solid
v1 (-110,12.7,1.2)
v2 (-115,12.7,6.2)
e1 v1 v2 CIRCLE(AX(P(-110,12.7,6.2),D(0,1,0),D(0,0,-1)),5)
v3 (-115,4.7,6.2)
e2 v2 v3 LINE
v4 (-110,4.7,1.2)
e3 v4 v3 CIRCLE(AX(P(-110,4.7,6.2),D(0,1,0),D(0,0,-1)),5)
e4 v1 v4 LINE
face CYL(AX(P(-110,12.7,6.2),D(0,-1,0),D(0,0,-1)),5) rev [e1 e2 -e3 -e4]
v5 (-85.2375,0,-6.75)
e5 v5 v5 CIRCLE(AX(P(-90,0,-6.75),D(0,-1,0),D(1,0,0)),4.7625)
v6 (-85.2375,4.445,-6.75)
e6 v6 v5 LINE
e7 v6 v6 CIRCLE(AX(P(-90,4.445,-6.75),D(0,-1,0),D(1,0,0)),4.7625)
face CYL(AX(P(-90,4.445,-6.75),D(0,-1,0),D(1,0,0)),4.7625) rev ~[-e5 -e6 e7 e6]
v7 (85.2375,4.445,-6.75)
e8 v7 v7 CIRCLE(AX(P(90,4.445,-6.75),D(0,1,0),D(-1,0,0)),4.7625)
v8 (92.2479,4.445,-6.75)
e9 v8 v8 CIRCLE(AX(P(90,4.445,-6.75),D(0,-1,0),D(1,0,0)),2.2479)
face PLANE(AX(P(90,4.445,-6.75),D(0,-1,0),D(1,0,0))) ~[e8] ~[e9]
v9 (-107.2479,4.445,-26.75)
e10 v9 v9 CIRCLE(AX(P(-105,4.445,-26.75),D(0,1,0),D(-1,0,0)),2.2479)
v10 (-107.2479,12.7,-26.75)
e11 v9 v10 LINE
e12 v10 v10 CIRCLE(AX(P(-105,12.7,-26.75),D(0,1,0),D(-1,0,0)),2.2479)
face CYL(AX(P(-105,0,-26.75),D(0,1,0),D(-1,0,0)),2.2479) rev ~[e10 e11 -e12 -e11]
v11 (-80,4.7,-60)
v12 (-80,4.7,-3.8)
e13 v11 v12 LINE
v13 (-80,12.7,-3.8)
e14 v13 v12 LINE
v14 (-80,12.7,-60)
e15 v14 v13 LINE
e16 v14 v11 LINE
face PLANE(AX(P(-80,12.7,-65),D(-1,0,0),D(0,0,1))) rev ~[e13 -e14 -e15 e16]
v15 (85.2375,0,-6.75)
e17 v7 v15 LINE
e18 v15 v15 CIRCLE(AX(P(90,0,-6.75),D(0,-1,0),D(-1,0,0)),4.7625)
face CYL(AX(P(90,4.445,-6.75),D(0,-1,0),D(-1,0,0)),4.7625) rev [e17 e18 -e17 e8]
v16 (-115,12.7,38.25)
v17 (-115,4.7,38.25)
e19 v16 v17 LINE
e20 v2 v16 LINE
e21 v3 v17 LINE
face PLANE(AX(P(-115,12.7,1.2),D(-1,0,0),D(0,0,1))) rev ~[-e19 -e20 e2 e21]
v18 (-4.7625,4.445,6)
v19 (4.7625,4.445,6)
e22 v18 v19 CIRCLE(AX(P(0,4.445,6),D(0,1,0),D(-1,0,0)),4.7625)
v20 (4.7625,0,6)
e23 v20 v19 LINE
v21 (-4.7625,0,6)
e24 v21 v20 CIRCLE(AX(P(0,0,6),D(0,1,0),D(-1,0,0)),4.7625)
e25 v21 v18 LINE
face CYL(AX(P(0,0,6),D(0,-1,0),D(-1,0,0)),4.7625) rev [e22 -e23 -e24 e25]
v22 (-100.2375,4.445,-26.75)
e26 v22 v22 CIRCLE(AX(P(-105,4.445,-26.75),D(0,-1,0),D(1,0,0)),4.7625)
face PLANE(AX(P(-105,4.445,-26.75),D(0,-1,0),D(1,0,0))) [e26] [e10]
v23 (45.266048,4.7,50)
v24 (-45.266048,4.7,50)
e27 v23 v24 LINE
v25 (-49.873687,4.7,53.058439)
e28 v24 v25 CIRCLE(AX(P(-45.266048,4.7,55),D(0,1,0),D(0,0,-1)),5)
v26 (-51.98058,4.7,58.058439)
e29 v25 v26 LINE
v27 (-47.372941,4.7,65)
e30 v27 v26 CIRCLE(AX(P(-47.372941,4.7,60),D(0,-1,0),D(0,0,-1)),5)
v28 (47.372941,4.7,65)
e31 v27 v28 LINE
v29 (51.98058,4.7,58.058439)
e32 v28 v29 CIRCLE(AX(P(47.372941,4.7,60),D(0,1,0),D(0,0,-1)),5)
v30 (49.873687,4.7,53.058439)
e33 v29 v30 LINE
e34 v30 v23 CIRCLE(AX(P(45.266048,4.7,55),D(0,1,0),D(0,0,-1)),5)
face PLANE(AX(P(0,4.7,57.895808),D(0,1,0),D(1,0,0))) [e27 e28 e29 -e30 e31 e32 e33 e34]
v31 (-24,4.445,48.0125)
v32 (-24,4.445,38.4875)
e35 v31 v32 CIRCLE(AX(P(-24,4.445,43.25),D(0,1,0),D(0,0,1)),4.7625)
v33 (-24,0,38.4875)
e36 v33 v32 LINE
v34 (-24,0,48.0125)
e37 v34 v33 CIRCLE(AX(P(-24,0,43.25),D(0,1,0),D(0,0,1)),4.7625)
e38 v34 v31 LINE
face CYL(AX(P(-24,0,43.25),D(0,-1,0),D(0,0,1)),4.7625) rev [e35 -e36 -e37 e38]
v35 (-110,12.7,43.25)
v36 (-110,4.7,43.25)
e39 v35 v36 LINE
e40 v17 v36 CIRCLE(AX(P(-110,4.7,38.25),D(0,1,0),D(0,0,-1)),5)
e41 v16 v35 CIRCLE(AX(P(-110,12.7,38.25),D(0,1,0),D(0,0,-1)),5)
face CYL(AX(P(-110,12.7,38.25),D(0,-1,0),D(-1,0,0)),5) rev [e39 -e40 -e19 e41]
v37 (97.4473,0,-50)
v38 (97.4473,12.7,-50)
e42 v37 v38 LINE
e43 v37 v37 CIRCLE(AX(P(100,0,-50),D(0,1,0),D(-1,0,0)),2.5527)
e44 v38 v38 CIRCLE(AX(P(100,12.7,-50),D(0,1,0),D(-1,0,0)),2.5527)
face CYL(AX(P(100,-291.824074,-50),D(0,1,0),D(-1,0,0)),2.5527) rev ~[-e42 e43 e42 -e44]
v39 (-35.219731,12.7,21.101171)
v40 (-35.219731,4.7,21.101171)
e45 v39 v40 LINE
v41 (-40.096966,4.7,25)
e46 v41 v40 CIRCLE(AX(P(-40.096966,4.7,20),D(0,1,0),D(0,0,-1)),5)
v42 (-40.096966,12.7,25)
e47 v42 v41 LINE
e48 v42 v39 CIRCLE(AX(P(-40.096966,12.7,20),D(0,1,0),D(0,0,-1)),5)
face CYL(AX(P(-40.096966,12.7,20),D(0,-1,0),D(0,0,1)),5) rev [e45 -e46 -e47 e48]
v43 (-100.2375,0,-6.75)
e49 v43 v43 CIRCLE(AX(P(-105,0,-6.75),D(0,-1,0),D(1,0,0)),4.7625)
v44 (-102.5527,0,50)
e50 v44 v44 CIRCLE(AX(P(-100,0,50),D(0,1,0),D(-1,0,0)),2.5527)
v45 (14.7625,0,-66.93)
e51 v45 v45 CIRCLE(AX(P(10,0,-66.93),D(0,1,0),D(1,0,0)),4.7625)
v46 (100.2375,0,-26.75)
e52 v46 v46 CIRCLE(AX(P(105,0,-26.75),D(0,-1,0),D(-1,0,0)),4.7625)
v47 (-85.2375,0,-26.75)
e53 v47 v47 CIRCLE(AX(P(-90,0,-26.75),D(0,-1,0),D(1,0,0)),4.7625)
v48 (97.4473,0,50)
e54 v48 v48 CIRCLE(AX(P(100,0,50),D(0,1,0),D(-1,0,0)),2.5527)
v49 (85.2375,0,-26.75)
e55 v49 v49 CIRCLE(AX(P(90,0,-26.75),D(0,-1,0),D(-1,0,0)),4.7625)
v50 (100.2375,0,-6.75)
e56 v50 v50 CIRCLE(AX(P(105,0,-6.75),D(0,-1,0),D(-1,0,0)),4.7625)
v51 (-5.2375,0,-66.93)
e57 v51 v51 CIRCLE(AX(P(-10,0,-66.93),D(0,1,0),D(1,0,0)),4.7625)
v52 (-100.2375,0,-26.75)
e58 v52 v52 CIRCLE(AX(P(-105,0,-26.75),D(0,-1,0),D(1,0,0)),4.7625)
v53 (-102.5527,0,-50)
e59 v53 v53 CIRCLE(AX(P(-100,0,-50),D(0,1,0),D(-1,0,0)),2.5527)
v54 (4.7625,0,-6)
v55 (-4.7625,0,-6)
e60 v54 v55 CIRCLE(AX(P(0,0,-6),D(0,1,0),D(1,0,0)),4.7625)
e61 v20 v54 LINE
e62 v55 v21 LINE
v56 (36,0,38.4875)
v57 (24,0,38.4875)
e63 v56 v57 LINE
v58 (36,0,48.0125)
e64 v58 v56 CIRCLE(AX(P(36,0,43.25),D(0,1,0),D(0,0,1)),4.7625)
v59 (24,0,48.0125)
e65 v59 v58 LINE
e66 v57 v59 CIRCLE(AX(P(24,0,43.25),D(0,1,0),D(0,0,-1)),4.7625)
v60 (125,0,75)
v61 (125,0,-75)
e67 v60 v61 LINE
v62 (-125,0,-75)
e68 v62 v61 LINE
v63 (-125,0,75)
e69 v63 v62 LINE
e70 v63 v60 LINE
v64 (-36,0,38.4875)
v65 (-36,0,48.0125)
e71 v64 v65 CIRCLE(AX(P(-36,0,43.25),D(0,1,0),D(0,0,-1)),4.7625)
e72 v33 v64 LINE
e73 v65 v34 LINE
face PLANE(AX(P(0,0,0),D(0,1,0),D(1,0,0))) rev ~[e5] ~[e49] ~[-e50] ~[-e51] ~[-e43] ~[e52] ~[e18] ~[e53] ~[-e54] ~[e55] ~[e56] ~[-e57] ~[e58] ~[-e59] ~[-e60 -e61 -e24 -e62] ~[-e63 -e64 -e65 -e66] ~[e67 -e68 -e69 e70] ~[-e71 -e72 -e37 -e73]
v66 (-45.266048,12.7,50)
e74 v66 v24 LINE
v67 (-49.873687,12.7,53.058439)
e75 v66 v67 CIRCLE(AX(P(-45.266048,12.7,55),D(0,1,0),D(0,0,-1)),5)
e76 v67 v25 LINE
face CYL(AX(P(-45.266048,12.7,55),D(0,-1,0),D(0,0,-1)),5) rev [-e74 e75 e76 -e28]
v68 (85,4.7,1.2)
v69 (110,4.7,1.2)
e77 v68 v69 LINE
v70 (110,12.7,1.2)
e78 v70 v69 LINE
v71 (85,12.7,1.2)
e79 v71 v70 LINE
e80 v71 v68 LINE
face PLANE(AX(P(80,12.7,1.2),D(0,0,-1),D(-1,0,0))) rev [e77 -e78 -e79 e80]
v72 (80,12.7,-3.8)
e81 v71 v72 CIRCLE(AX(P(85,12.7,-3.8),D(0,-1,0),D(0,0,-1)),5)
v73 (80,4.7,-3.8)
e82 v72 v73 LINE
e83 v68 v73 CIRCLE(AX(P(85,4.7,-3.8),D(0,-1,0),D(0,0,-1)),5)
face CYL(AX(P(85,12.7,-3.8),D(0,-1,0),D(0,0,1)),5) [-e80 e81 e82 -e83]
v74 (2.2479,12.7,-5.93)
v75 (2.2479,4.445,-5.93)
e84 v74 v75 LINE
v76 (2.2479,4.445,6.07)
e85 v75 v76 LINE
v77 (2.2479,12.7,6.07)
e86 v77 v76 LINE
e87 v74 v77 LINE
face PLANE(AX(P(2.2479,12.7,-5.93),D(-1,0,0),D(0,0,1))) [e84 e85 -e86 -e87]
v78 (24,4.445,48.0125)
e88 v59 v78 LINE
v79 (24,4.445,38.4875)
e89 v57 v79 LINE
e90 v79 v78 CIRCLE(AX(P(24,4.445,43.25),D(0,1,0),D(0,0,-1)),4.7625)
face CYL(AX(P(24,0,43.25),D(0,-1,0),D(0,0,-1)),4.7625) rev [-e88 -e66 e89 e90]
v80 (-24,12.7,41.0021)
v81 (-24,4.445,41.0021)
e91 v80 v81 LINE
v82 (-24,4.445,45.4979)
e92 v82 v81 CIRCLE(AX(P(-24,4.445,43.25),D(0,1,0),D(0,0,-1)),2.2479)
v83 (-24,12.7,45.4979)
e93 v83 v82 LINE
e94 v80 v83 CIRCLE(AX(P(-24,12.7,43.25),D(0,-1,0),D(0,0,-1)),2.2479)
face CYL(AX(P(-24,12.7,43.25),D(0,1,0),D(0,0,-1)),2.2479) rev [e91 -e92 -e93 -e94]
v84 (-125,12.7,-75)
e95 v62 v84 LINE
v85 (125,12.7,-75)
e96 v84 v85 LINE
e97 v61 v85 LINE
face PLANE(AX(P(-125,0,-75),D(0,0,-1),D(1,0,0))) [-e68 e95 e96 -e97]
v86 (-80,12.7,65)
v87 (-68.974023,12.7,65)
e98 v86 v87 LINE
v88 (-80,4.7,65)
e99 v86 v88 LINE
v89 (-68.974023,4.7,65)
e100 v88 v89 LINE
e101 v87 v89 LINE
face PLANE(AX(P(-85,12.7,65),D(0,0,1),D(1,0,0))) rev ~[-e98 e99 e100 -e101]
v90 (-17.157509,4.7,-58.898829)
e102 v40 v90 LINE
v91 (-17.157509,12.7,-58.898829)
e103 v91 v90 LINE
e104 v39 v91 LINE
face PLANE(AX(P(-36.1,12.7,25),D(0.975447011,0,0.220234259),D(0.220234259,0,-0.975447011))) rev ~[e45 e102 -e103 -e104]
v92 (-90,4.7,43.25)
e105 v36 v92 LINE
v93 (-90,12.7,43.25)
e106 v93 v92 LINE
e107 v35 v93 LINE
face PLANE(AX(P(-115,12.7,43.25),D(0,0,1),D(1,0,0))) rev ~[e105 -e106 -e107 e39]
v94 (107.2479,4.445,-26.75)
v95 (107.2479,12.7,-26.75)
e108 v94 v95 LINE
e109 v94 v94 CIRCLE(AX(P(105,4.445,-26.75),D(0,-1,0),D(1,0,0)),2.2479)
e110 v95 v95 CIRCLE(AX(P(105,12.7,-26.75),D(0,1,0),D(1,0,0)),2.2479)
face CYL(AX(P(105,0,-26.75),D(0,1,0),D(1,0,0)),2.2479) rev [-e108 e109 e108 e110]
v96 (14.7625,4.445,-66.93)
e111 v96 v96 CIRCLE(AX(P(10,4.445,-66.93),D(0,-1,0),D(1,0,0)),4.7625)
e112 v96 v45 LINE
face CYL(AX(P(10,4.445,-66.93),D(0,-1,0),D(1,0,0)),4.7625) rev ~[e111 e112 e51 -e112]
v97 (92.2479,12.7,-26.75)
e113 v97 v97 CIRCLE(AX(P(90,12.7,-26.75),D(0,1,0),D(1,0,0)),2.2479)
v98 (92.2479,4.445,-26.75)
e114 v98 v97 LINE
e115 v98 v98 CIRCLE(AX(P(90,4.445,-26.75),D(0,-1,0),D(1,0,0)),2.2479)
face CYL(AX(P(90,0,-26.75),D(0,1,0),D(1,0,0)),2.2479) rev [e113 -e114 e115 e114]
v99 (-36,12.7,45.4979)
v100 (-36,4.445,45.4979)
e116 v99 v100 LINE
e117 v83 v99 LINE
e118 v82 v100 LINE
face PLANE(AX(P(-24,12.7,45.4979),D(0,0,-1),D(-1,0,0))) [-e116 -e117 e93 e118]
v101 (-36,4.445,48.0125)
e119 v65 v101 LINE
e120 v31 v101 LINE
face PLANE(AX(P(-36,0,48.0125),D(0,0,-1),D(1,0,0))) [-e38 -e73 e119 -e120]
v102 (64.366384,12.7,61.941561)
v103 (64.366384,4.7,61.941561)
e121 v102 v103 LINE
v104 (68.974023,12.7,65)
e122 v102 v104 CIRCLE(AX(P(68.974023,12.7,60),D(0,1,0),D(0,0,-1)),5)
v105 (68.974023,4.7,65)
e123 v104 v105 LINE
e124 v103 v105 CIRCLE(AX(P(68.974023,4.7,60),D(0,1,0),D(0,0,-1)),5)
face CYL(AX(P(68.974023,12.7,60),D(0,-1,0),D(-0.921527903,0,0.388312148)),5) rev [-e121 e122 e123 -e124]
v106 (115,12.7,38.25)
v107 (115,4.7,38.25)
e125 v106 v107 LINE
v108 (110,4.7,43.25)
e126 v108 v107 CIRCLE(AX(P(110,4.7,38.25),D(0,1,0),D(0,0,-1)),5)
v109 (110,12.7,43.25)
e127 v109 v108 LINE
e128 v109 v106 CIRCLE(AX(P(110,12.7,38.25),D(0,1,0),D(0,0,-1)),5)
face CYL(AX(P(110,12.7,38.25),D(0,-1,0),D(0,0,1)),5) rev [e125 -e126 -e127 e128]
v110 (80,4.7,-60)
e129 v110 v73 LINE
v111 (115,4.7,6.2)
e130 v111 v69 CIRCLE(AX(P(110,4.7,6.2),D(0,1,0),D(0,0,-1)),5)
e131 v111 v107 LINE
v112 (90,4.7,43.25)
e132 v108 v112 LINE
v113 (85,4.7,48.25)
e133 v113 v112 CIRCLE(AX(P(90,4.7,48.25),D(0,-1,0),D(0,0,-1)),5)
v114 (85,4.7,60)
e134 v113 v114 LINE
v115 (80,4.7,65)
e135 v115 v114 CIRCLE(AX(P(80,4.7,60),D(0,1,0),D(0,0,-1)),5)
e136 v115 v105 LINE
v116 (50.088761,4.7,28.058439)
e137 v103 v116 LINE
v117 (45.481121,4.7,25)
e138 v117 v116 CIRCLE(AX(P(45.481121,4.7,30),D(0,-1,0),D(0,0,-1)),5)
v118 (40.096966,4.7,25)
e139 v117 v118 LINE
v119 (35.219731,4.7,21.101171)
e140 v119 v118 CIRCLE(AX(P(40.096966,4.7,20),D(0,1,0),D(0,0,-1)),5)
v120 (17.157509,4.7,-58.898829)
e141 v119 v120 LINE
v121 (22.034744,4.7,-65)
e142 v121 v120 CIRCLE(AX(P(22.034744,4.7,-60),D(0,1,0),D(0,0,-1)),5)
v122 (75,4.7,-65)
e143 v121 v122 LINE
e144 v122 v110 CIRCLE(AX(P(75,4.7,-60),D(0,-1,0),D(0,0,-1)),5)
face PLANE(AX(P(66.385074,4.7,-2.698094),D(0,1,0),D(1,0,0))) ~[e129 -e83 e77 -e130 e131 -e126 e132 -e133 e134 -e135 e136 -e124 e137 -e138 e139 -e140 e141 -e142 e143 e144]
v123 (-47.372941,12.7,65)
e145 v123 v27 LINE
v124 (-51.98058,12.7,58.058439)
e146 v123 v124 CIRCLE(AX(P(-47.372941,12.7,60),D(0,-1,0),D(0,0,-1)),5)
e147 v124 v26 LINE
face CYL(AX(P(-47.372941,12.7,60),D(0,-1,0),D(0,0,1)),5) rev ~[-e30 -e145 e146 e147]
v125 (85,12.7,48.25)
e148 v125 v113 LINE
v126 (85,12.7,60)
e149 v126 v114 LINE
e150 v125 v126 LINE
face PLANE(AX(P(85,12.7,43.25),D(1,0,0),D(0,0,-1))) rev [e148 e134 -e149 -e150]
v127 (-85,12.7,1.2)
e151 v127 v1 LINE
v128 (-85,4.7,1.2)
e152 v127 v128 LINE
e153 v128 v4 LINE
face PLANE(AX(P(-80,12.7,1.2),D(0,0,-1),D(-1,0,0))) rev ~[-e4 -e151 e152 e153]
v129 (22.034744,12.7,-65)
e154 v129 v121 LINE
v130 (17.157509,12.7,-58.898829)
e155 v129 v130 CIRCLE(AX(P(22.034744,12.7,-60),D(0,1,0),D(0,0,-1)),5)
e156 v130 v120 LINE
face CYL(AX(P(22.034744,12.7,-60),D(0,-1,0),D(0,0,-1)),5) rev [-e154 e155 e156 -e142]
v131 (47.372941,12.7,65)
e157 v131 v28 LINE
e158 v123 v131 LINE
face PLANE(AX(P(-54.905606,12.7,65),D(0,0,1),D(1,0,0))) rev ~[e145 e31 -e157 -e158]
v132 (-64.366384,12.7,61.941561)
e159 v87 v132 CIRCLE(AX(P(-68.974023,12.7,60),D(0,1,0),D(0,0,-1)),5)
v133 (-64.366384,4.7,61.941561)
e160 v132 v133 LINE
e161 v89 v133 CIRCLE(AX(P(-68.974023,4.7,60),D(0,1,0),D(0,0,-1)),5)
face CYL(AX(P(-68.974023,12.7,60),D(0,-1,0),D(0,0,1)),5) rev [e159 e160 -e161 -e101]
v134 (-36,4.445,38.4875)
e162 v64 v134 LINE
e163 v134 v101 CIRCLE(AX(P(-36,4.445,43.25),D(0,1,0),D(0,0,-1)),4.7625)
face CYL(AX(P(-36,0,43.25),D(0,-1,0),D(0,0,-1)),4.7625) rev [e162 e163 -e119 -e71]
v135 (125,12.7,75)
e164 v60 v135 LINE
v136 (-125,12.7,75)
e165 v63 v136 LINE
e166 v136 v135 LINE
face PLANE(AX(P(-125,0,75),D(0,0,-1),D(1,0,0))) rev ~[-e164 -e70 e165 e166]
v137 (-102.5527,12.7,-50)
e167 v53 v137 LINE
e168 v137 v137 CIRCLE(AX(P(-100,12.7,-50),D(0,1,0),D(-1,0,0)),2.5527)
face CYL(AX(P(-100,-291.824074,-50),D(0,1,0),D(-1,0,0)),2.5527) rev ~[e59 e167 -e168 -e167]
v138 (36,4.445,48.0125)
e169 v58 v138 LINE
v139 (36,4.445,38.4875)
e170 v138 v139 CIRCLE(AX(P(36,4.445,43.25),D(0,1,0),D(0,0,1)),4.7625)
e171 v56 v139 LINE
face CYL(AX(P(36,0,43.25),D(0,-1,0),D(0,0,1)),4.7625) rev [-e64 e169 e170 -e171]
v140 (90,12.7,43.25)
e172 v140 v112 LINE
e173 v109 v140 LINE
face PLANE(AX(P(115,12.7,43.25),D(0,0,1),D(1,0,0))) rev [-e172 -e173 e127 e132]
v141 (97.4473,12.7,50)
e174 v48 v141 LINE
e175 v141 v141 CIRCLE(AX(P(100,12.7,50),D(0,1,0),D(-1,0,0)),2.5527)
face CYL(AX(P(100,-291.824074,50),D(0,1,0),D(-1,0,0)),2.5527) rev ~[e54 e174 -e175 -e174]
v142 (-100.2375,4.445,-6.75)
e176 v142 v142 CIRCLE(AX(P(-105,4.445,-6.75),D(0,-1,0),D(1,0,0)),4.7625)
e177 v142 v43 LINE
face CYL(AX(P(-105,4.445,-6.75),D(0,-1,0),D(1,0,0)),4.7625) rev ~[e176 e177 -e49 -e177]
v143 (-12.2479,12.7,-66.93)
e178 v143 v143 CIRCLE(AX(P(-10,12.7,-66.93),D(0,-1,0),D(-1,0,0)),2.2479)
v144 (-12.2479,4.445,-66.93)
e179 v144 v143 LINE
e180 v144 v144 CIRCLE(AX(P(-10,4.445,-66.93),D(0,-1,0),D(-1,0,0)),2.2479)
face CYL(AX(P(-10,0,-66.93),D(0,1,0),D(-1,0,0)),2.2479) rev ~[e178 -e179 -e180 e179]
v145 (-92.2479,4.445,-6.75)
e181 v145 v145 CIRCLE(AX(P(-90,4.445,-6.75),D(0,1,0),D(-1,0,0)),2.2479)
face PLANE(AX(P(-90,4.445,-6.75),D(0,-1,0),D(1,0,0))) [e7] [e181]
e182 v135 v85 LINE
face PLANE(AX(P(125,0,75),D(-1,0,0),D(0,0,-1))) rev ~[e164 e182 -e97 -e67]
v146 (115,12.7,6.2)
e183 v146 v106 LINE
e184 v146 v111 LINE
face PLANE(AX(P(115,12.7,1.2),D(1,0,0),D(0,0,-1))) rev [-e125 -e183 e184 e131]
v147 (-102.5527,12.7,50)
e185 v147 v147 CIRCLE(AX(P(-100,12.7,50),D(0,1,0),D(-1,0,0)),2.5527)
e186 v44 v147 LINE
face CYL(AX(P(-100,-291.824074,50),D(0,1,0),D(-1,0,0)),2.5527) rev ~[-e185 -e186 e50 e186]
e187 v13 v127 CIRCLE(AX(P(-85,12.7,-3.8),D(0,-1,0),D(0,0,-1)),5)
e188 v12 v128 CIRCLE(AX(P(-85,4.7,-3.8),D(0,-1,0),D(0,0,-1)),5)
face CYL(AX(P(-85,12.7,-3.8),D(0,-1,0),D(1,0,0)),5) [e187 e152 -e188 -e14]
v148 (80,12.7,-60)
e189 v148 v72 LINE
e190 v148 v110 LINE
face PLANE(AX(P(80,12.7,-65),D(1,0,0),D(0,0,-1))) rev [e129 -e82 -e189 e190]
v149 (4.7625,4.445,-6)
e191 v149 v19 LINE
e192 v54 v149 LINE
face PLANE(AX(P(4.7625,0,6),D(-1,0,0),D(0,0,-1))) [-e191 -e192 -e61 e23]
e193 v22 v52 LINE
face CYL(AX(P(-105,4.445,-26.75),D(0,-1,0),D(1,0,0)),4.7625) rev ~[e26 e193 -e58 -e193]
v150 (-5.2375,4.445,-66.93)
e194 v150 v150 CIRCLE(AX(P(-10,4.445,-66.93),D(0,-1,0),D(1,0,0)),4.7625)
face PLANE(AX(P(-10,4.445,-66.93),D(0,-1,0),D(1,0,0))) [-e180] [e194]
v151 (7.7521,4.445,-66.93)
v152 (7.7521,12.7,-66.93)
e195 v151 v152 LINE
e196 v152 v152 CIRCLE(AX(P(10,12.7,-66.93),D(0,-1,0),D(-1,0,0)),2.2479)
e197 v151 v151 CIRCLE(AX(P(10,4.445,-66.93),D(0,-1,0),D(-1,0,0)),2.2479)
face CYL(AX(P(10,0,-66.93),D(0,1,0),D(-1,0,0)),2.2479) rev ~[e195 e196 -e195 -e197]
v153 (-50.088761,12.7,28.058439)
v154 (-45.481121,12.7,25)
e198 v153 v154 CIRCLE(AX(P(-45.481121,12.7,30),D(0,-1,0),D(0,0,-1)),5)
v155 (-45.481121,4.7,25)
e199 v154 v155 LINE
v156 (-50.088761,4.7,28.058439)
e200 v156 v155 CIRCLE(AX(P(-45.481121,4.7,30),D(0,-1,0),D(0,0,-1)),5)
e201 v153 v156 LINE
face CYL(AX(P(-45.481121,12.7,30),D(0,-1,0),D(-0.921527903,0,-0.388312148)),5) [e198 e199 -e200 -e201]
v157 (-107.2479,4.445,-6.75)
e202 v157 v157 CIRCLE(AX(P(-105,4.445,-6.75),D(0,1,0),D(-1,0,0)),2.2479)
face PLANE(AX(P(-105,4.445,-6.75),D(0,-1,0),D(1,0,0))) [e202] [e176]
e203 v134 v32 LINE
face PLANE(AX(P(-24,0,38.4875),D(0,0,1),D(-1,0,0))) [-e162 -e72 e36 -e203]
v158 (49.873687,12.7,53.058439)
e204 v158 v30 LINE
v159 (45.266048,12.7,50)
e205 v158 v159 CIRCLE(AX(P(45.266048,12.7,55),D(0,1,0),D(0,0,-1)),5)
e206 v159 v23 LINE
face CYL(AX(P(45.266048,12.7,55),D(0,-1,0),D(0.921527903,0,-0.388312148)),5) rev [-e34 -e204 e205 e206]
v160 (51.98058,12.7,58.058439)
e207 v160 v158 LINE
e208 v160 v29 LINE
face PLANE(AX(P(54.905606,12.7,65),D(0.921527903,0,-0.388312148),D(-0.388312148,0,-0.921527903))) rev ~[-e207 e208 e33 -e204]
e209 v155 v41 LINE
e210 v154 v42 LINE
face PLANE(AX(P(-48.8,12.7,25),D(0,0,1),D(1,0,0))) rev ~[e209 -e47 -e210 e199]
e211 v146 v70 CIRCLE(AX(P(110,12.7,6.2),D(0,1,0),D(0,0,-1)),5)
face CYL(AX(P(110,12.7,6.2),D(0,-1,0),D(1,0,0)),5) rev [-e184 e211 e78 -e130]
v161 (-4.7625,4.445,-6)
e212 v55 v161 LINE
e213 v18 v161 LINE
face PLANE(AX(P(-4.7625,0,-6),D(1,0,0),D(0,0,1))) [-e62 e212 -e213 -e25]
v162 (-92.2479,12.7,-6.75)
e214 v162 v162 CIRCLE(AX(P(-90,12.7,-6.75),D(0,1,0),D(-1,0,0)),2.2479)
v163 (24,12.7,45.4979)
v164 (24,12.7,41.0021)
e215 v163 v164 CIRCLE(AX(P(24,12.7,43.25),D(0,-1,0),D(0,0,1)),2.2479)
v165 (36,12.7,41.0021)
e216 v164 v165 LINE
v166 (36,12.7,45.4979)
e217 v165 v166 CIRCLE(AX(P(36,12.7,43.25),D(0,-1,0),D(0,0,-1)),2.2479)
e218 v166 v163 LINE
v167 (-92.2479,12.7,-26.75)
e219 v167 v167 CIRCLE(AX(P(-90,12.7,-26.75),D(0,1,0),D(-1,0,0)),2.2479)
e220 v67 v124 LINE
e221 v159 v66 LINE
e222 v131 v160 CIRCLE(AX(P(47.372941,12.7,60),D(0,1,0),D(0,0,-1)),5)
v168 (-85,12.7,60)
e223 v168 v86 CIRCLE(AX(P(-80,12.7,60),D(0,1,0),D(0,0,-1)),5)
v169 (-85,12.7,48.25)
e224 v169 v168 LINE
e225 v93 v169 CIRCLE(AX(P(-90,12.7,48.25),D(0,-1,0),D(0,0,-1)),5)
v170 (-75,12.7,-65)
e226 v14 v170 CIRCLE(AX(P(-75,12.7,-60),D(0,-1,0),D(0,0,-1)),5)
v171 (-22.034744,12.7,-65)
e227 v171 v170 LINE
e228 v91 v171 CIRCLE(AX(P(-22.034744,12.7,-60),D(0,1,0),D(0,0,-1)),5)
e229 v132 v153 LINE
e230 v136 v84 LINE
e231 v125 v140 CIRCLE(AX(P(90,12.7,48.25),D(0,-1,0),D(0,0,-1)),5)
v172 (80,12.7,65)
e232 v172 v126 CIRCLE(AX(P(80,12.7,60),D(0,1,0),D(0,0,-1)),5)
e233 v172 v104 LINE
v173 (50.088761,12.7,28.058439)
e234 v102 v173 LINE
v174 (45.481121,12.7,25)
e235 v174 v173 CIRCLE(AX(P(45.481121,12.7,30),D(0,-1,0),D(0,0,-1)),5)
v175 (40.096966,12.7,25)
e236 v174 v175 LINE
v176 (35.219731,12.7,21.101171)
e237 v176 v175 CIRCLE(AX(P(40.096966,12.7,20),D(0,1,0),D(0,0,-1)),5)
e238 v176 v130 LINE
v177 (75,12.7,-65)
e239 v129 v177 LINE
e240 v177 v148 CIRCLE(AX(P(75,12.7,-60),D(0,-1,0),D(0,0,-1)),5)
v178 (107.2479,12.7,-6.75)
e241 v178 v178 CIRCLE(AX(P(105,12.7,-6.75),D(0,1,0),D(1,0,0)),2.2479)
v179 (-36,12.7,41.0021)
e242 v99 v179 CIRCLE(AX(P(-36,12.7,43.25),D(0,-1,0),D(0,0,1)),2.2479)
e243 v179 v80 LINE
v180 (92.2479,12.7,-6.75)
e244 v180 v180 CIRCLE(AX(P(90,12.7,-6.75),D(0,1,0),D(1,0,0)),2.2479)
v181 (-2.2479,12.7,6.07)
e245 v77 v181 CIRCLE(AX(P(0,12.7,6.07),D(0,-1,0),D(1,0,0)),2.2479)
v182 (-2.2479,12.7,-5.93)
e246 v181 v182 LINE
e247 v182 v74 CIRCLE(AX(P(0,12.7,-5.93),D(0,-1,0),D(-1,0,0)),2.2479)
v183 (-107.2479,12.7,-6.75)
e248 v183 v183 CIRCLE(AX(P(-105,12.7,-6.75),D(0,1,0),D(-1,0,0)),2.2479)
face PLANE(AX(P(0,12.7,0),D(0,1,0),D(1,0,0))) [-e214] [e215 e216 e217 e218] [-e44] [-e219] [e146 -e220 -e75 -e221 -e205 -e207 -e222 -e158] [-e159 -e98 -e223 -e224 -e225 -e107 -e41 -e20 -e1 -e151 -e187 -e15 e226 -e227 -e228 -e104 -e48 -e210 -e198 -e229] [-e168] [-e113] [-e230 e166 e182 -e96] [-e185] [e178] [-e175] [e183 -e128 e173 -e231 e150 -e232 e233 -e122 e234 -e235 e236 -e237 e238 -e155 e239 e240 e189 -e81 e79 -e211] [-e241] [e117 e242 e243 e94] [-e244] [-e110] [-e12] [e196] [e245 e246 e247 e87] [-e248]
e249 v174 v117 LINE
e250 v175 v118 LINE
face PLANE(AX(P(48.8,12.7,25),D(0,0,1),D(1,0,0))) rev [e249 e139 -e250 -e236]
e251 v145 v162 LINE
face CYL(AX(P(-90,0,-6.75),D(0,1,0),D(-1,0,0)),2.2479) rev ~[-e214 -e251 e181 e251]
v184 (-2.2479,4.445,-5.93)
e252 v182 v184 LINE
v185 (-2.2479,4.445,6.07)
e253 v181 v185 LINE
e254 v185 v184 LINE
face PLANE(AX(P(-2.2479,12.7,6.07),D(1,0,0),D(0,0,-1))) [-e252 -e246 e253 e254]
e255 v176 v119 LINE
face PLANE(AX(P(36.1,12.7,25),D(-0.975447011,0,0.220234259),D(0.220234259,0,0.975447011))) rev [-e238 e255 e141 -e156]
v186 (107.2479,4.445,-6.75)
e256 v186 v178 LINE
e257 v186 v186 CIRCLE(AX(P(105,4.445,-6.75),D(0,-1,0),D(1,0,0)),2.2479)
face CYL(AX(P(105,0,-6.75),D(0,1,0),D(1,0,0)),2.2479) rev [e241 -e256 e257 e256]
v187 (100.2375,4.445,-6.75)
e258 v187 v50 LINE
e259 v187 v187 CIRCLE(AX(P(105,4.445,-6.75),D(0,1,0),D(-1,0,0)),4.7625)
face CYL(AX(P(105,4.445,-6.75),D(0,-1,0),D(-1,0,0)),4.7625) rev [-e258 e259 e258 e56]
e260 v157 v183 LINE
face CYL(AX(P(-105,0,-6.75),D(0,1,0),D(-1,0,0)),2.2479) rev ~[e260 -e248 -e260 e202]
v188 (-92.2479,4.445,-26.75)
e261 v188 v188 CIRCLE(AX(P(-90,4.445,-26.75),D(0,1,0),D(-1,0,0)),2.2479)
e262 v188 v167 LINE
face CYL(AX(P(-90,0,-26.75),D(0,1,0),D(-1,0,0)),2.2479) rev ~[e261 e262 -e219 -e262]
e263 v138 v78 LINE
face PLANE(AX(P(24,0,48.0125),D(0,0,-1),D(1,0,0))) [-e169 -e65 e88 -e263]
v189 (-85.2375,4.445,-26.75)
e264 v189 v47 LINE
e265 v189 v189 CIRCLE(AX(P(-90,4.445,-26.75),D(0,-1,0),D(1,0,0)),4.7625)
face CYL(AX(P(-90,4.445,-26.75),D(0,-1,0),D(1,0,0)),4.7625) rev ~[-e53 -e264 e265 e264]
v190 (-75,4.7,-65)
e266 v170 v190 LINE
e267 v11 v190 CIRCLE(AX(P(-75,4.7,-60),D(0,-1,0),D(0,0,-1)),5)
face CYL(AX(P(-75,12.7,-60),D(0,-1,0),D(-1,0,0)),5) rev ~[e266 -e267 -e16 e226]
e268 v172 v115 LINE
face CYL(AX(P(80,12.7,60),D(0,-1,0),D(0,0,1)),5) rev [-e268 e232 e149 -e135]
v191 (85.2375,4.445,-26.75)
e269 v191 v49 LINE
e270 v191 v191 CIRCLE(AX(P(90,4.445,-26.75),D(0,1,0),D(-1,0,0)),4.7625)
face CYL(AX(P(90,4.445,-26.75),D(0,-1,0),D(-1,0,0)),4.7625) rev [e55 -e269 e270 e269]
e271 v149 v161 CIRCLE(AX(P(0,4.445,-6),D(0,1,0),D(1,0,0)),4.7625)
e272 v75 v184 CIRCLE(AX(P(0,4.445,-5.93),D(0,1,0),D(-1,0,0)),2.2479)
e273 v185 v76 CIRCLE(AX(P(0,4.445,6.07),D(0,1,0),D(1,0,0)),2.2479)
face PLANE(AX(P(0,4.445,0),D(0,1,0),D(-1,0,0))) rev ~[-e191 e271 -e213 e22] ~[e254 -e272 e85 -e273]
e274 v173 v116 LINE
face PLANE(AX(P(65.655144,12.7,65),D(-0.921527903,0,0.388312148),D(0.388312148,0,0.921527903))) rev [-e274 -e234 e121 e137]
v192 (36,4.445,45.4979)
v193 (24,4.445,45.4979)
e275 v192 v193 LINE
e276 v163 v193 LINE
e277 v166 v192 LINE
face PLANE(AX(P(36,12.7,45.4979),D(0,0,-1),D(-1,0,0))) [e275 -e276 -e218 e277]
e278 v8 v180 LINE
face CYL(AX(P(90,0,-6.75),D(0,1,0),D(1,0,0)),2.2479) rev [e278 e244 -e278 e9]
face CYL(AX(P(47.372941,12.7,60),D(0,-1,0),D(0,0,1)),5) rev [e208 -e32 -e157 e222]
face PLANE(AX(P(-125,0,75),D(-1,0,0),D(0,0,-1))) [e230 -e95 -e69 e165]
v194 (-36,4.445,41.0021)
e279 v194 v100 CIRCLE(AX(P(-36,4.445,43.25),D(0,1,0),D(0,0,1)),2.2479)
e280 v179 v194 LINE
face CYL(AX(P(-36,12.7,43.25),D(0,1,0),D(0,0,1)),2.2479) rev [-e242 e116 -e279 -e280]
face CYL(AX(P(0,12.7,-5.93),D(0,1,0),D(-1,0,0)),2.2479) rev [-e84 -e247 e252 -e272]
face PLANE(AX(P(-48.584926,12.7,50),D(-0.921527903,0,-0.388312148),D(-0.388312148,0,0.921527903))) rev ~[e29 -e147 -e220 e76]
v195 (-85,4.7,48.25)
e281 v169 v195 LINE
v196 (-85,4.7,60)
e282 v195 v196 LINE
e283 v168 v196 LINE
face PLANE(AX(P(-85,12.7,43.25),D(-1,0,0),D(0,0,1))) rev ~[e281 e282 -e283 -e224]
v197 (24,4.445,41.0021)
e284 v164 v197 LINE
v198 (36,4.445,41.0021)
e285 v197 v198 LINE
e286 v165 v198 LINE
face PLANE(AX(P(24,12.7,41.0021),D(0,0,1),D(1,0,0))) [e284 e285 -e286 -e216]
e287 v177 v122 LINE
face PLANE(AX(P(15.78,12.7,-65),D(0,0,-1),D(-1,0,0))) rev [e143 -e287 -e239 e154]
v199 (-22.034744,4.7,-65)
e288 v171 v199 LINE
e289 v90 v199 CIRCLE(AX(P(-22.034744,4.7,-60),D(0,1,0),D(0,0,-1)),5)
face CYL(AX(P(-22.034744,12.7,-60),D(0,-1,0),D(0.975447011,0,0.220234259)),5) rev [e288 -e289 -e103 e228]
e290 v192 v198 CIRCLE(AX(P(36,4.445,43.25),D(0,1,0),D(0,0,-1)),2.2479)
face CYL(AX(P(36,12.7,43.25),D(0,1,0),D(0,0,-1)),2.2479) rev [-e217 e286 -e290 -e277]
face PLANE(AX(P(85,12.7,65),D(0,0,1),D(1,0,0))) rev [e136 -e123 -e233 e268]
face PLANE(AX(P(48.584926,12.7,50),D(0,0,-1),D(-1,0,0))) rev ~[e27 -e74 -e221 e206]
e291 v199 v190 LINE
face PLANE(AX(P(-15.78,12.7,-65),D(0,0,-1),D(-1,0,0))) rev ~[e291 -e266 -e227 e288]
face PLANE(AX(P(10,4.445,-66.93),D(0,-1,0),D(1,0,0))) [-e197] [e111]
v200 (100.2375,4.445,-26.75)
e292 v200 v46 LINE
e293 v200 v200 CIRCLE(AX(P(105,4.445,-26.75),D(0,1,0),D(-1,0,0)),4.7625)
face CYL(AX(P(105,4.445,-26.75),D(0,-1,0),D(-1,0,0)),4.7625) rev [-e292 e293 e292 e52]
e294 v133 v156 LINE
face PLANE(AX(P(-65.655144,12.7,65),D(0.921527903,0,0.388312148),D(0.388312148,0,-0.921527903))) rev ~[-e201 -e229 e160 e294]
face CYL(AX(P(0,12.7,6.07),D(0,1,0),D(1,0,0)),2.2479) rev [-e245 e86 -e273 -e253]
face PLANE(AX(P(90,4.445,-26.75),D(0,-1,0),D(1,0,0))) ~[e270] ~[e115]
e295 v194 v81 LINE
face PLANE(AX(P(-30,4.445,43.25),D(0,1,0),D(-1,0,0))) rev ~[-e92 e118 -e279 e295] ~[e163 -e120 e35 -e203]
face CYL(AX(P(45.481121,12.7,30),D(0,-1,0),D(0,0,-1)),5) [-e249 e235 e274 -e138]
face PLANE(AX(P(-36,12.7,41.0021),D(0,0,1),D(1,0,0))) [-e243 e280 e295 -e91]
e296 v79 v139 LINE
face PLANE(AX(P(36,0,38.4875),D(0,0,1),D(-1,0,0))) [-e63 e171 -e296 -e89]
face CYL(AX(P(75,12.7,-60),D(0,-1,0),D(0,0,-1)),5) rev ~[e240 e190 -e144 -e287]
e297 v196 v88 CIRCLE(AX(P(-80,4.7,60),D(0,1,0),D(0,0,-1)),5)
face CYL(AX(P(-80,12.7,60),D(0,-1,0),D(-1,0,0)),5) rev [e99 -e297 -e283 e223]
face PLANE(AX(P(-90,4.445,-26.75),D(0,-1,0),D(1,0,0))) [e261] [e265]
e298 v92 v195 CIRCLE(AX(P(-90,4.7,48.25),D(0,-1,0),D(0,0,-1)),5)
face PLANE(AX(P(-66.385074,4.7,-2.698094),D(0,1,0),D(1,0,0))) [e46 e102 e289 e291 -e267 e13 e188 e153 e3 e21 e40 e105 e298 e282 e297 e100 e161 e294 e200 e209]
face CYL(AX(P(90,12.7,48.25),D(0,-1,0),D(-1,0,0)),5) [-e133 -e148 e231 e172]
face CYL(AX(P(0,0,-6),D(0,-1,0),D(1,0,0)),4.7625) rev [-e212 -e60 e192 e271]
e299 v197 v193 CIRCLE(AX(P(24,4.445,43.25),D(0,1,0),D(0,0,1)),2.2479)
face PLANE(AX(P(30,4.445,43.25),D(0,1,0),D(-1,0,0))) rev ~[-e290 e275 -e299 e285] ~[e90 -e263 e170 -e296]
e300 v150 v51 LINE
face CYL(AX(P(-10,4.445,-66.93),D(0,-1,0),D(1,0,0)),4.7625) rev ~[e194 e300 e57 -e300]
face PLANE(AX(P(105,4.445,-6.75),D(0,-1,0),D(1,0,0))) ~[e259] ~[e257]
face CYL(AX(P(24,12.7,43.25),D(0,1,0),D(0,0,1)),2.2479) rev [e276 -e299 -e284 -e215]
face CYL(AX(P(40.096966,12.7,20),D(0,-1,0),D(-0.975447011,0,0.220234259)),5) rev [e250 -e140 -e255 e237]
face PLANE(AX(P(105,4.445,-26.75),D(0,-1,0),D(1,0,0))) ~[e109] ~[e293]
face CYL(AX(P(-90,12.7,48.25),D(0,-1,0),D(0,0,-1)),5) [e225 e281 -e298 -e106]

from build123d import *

# Parameters (mm, degrees)
SKETCH1_W                                           = 250
SKETCH1_H                                           = 149.999999994
BOSS_EXTRUDE1_DEPTH                                 = 12.7
CBORE_FOR_8_BINDING_HEAD_MACHINE_SCREW1_D           = 4.4958
CBORE_FOR_8_BINDING_HEAD_MACHINE_SCREW1_CBORE_D     = 9.525
CBORE_FOR_8_BINDING_HEAD_MACHINE_SCREW1_CBORE_DEPTH = 4.445
F_1_4_20_TAPPED_HOLE1_D                             = 5.1054
CUT_EXTRUDE1_DEPTH                                  = 8
FILLET1_R                                           = 4.999999906
FILLET1_OF_MIRROR1_R                                = 4.999999906
CUT_EXTRUDE3_DEPTH                                  = 8
FILLET3_R                                           = 4.999999906
CUT_EXTRUDE4_DEPTH                                  = 147.325971719
CUT_EXTRUDE5_DEPTH                                  = 4.445


with BuildPart() as part:
    # Sketch1 → Boss-Extrude1 (new body)
    with BuildSketch(Plane(origin=(0, 0, 0), x_dir=(1, 0, 0), z_dir=(0, 1, 0))):
        Rectangle(SKETCH1_W, SKETCH1_H)
    extrude(amount=BOSS_EXTRUDE1_DEPTH)

    # CBORE for #8 Binding Head Machine Screw1 (through all)
    with Locations(Plane.XZ):
        with Locations((-30, 43.249999997), (30, 43.249999997), (0, 0.069999997), (-105, -26.750000003), (-90, -26.750000003), (-90, -6.750000003), (-105, -6.750000003), (-10, -66.929999703), (10, -66.929999703)):
            cbore_for_8_binding_head_machine_screw1 = CounterBoreHole(CBORE_FOR_8_BINDING_HEAD_MACHINE_SCREW1_D / 2, CBORE_FOR_8_BINDING_HEAD_MACHINE_SCREW1_CBORE_D / 2, CBORE_FOR_8_BINDING_HEAD_MACHINE_SCREW1_CBORE_DEPTH)

    # 1/4-20 Tapped Hole1 (through all)
    with Locations(Plane.XZ):
        with Locations((100, -49.999999997), (-100, -49.999999997), (-100, 49.999999997), (100, 49.999999997)):
            Hole(F_1_4_20_TAPPED_HOLE1_D / 2)

    # Sketch10 → Cut-Extrude1 (cut)
    with BuildSketch(Plane(origin=(0, 12.7, 0), x_dir=(1, 0, 0), z_dir=(0, 1, 0))):
        Polygon((-80, 64.999999997), (-80, -1.200000003), (-115, -1.200000003), (-115, -43.249999997), (-85, -43.249999997), (-85, -64.999999997), (-65.655144454, -64.999999997), (-48.8, -24.999999997), (-36.1, -24.999999997), (-15.78, 64.999999997), align=None)
    cut_extrude1 = extrude(amount=-CUT_EXTRUDE1_DEPTH, mode=Mode.SUBTRACT)

    # Fillet1
    fillet1_edges = [part.edges().sort_by_distance(p)[0] for p in [
        (-15.78, 8.7, -64.999999997),
        (-36.1, 8.7, 24.999999997),
        (-48.8, 8.7, 24.999999997),
        (-65.655144454, 8.7, 64.999999997),
        (-85, 8.7, 64.999999997),
        (-85, 8.7, 43.249999997),
        (-115, 8.7, 43.249999997),
        (-115, 8.7, 1.200000003),
        (-80, 8.7, 1.200000003),
        (-80, 8.7, -64.999999997),
    ]]
    fillet(fillet1_edges, radius=FILLET1_R)

    # Mirror1: Cut-Extrude1 across plane
    add(cut_extrude1.mirror(Plane(origin=(0, 0, 0), x_dir=(0, 0, 1), z_dir=(1, 0, 0))), mode=Mode.SUBTRACT)

    # Fillet1 of Mirror1
    fillet1_of_mirror1_edges = [part.edges().sort_by_distance(p)[0] for p in [
        (15.78, 8.7, -64.999999997),
        (36.1, 8.7, 24.999999997),
        (48.8, 8.7, 24.999999997),
        (65.655144454, 8.7, 64.999999997),
        (85, 8.7, 64.999999997),
        (85, 8.7, 43.249999997),
        (115, 8.7, 43.249999997),
        (115, 8.7, 1.200000003),
        (80, 8.7, 1.200000003),
        (80, 8.7, -64.999999997),
    ]]
    fillet(fillet1_of_mirror1_edges, radius=FILLET1_OF_MIRROR1_R)

    # Sketch14 → Cut-Extrude3 (cut)
    with BuildSketch(Plane(origin=(0, 12.7, 0), x_dir=(1, 0, 0), z_dir=(0, 1, 0))):
        Polygon((-54.905605596, -64.999999997), (54.905605596, -64.999999997), (48.584926426, -49.999999997), (-48.584926426, -49.999999997), align=None)
    extrude(amount=-CUT_EXTRUDE3_DEPTH, mode=Mode.SUBTRACT)

    # Fillet3
    fillet3_edges = [part.edges().sort_by_distance(p)[0] for p in [
        (-54.905605596, 8.7, 64.999999997),
        (-48.584926426, 8.7, 49.999999997),
        (48.584926426, 8.7, 49.999999997),
        (54.905605596, 8.7, 64.999999997),
    ]]
    fillet(fillet3_edges, radius=FILLET3_R)

    # Sketch15 → Cut-Extrude4 (cut, through all)
    with BuildSketch(Plane(origin=(0, 12.7, 0), x_dir=(1, 0, 0), z_dir=(0, 1, 0))):
        with BuildLine():
            Line((-36, -41.002099997), (-24, -41.002099997))
            ThreePointArc((-24, -41.002099997), (-21.7521, -43.249999997), (-24, -45.497899997))
            Line((-24, -45.497899997), (-36, -45.497899997))
            ThreePointArc((-36, -45.497899997), (-38.2479, -43.249999997), (-36, -41.002099997))
        make_face()
        with BuildLine():
            Line((24, -41.002099997), (36, -41.002099997))
            ThreePointArc((36, -41.002099997), (38.2479, -43.249999997), (36, -45.497899997))
            Line((36, -45.497899997), (24, -45.497899997))
            ThreePointArc((24, -45.497899997), (21.7521, -43.249999997), (24, -41.002099997))
        make_face()
        with BuildLine():
            Line((2.2479, 5.930000003), (2.2479, -6.069999997))
            ThreePointArc((2.2479, -6.069999997), (0, -8.317899997), (-2.2479, -6.069999997))
            Line((-2.2479, -6.069999997), (-2.2479, 5.930000003))
            ThreePointArc((-2.2479, 5.930000003), (0, 8.177900003), (2.2479, 5.930000003))
        make_face()
    extrude(amount=-CUT_EXTRUDE4_DEPTH, mode=Mode.SUBTRACT)

    # Sketch16 → Cut-Extrude5 (cut)
    with BuildSketch(Plane.XZ):
        with BuildLine():
            Line((-4.7625, -6), (-4.7625, 6))
            ThreePointArc((-4.7625, 6), (0, 10.7625), (4.7625, 6))
            Line((4.7625, 6), (4.7625, -6))
            ThreePointArc((4.7625, -6), (0, -10.7625), (-4.7625, -6))
        make_face()
        with BuildLine():
            Line((36, 38.487499997), (24, 38.487499997))
            ThreePointArc((24, 38.487499997), (19.2375, 43.249999997), (24, 48.012499997))
            Line((24, 48.012499997), (36, 48.012499997))
            ThreePointArc((36, 48.012499997), (40.7625, 43.249999997), (36, 38.487499997))
        make_face()
        with BuildLine():
            Line((-24, 38.487499997), (-36, 38.487499997))
            ThreePointArc((-36, 38.487499997), (-40.7625, 43.249999997), (-36, 48.012499997))
            Line((-36, 48.012499997), (-24, 48.012499997))
            ThreePointArc((-24, 48.012499997), (-19.2375, 43.249999997), (-24, 38.487499997))
        make_face()
    extrude(amount=-CUT_EXTRUDE5_DEPTH, mode=Mode.SUBTRACT)

    # Mirror3: CBORE for #8 Binding Head Machine Screw1 across plane
    add(cbore_for_8_binding_head_machine_screw1.mirror(Plane(origin=(0, 0, 0), x_dir=(0, 0, 1), z_dir=(1, 0, 0))), mode=Mode.SUBTRACT)


solid = part.part
